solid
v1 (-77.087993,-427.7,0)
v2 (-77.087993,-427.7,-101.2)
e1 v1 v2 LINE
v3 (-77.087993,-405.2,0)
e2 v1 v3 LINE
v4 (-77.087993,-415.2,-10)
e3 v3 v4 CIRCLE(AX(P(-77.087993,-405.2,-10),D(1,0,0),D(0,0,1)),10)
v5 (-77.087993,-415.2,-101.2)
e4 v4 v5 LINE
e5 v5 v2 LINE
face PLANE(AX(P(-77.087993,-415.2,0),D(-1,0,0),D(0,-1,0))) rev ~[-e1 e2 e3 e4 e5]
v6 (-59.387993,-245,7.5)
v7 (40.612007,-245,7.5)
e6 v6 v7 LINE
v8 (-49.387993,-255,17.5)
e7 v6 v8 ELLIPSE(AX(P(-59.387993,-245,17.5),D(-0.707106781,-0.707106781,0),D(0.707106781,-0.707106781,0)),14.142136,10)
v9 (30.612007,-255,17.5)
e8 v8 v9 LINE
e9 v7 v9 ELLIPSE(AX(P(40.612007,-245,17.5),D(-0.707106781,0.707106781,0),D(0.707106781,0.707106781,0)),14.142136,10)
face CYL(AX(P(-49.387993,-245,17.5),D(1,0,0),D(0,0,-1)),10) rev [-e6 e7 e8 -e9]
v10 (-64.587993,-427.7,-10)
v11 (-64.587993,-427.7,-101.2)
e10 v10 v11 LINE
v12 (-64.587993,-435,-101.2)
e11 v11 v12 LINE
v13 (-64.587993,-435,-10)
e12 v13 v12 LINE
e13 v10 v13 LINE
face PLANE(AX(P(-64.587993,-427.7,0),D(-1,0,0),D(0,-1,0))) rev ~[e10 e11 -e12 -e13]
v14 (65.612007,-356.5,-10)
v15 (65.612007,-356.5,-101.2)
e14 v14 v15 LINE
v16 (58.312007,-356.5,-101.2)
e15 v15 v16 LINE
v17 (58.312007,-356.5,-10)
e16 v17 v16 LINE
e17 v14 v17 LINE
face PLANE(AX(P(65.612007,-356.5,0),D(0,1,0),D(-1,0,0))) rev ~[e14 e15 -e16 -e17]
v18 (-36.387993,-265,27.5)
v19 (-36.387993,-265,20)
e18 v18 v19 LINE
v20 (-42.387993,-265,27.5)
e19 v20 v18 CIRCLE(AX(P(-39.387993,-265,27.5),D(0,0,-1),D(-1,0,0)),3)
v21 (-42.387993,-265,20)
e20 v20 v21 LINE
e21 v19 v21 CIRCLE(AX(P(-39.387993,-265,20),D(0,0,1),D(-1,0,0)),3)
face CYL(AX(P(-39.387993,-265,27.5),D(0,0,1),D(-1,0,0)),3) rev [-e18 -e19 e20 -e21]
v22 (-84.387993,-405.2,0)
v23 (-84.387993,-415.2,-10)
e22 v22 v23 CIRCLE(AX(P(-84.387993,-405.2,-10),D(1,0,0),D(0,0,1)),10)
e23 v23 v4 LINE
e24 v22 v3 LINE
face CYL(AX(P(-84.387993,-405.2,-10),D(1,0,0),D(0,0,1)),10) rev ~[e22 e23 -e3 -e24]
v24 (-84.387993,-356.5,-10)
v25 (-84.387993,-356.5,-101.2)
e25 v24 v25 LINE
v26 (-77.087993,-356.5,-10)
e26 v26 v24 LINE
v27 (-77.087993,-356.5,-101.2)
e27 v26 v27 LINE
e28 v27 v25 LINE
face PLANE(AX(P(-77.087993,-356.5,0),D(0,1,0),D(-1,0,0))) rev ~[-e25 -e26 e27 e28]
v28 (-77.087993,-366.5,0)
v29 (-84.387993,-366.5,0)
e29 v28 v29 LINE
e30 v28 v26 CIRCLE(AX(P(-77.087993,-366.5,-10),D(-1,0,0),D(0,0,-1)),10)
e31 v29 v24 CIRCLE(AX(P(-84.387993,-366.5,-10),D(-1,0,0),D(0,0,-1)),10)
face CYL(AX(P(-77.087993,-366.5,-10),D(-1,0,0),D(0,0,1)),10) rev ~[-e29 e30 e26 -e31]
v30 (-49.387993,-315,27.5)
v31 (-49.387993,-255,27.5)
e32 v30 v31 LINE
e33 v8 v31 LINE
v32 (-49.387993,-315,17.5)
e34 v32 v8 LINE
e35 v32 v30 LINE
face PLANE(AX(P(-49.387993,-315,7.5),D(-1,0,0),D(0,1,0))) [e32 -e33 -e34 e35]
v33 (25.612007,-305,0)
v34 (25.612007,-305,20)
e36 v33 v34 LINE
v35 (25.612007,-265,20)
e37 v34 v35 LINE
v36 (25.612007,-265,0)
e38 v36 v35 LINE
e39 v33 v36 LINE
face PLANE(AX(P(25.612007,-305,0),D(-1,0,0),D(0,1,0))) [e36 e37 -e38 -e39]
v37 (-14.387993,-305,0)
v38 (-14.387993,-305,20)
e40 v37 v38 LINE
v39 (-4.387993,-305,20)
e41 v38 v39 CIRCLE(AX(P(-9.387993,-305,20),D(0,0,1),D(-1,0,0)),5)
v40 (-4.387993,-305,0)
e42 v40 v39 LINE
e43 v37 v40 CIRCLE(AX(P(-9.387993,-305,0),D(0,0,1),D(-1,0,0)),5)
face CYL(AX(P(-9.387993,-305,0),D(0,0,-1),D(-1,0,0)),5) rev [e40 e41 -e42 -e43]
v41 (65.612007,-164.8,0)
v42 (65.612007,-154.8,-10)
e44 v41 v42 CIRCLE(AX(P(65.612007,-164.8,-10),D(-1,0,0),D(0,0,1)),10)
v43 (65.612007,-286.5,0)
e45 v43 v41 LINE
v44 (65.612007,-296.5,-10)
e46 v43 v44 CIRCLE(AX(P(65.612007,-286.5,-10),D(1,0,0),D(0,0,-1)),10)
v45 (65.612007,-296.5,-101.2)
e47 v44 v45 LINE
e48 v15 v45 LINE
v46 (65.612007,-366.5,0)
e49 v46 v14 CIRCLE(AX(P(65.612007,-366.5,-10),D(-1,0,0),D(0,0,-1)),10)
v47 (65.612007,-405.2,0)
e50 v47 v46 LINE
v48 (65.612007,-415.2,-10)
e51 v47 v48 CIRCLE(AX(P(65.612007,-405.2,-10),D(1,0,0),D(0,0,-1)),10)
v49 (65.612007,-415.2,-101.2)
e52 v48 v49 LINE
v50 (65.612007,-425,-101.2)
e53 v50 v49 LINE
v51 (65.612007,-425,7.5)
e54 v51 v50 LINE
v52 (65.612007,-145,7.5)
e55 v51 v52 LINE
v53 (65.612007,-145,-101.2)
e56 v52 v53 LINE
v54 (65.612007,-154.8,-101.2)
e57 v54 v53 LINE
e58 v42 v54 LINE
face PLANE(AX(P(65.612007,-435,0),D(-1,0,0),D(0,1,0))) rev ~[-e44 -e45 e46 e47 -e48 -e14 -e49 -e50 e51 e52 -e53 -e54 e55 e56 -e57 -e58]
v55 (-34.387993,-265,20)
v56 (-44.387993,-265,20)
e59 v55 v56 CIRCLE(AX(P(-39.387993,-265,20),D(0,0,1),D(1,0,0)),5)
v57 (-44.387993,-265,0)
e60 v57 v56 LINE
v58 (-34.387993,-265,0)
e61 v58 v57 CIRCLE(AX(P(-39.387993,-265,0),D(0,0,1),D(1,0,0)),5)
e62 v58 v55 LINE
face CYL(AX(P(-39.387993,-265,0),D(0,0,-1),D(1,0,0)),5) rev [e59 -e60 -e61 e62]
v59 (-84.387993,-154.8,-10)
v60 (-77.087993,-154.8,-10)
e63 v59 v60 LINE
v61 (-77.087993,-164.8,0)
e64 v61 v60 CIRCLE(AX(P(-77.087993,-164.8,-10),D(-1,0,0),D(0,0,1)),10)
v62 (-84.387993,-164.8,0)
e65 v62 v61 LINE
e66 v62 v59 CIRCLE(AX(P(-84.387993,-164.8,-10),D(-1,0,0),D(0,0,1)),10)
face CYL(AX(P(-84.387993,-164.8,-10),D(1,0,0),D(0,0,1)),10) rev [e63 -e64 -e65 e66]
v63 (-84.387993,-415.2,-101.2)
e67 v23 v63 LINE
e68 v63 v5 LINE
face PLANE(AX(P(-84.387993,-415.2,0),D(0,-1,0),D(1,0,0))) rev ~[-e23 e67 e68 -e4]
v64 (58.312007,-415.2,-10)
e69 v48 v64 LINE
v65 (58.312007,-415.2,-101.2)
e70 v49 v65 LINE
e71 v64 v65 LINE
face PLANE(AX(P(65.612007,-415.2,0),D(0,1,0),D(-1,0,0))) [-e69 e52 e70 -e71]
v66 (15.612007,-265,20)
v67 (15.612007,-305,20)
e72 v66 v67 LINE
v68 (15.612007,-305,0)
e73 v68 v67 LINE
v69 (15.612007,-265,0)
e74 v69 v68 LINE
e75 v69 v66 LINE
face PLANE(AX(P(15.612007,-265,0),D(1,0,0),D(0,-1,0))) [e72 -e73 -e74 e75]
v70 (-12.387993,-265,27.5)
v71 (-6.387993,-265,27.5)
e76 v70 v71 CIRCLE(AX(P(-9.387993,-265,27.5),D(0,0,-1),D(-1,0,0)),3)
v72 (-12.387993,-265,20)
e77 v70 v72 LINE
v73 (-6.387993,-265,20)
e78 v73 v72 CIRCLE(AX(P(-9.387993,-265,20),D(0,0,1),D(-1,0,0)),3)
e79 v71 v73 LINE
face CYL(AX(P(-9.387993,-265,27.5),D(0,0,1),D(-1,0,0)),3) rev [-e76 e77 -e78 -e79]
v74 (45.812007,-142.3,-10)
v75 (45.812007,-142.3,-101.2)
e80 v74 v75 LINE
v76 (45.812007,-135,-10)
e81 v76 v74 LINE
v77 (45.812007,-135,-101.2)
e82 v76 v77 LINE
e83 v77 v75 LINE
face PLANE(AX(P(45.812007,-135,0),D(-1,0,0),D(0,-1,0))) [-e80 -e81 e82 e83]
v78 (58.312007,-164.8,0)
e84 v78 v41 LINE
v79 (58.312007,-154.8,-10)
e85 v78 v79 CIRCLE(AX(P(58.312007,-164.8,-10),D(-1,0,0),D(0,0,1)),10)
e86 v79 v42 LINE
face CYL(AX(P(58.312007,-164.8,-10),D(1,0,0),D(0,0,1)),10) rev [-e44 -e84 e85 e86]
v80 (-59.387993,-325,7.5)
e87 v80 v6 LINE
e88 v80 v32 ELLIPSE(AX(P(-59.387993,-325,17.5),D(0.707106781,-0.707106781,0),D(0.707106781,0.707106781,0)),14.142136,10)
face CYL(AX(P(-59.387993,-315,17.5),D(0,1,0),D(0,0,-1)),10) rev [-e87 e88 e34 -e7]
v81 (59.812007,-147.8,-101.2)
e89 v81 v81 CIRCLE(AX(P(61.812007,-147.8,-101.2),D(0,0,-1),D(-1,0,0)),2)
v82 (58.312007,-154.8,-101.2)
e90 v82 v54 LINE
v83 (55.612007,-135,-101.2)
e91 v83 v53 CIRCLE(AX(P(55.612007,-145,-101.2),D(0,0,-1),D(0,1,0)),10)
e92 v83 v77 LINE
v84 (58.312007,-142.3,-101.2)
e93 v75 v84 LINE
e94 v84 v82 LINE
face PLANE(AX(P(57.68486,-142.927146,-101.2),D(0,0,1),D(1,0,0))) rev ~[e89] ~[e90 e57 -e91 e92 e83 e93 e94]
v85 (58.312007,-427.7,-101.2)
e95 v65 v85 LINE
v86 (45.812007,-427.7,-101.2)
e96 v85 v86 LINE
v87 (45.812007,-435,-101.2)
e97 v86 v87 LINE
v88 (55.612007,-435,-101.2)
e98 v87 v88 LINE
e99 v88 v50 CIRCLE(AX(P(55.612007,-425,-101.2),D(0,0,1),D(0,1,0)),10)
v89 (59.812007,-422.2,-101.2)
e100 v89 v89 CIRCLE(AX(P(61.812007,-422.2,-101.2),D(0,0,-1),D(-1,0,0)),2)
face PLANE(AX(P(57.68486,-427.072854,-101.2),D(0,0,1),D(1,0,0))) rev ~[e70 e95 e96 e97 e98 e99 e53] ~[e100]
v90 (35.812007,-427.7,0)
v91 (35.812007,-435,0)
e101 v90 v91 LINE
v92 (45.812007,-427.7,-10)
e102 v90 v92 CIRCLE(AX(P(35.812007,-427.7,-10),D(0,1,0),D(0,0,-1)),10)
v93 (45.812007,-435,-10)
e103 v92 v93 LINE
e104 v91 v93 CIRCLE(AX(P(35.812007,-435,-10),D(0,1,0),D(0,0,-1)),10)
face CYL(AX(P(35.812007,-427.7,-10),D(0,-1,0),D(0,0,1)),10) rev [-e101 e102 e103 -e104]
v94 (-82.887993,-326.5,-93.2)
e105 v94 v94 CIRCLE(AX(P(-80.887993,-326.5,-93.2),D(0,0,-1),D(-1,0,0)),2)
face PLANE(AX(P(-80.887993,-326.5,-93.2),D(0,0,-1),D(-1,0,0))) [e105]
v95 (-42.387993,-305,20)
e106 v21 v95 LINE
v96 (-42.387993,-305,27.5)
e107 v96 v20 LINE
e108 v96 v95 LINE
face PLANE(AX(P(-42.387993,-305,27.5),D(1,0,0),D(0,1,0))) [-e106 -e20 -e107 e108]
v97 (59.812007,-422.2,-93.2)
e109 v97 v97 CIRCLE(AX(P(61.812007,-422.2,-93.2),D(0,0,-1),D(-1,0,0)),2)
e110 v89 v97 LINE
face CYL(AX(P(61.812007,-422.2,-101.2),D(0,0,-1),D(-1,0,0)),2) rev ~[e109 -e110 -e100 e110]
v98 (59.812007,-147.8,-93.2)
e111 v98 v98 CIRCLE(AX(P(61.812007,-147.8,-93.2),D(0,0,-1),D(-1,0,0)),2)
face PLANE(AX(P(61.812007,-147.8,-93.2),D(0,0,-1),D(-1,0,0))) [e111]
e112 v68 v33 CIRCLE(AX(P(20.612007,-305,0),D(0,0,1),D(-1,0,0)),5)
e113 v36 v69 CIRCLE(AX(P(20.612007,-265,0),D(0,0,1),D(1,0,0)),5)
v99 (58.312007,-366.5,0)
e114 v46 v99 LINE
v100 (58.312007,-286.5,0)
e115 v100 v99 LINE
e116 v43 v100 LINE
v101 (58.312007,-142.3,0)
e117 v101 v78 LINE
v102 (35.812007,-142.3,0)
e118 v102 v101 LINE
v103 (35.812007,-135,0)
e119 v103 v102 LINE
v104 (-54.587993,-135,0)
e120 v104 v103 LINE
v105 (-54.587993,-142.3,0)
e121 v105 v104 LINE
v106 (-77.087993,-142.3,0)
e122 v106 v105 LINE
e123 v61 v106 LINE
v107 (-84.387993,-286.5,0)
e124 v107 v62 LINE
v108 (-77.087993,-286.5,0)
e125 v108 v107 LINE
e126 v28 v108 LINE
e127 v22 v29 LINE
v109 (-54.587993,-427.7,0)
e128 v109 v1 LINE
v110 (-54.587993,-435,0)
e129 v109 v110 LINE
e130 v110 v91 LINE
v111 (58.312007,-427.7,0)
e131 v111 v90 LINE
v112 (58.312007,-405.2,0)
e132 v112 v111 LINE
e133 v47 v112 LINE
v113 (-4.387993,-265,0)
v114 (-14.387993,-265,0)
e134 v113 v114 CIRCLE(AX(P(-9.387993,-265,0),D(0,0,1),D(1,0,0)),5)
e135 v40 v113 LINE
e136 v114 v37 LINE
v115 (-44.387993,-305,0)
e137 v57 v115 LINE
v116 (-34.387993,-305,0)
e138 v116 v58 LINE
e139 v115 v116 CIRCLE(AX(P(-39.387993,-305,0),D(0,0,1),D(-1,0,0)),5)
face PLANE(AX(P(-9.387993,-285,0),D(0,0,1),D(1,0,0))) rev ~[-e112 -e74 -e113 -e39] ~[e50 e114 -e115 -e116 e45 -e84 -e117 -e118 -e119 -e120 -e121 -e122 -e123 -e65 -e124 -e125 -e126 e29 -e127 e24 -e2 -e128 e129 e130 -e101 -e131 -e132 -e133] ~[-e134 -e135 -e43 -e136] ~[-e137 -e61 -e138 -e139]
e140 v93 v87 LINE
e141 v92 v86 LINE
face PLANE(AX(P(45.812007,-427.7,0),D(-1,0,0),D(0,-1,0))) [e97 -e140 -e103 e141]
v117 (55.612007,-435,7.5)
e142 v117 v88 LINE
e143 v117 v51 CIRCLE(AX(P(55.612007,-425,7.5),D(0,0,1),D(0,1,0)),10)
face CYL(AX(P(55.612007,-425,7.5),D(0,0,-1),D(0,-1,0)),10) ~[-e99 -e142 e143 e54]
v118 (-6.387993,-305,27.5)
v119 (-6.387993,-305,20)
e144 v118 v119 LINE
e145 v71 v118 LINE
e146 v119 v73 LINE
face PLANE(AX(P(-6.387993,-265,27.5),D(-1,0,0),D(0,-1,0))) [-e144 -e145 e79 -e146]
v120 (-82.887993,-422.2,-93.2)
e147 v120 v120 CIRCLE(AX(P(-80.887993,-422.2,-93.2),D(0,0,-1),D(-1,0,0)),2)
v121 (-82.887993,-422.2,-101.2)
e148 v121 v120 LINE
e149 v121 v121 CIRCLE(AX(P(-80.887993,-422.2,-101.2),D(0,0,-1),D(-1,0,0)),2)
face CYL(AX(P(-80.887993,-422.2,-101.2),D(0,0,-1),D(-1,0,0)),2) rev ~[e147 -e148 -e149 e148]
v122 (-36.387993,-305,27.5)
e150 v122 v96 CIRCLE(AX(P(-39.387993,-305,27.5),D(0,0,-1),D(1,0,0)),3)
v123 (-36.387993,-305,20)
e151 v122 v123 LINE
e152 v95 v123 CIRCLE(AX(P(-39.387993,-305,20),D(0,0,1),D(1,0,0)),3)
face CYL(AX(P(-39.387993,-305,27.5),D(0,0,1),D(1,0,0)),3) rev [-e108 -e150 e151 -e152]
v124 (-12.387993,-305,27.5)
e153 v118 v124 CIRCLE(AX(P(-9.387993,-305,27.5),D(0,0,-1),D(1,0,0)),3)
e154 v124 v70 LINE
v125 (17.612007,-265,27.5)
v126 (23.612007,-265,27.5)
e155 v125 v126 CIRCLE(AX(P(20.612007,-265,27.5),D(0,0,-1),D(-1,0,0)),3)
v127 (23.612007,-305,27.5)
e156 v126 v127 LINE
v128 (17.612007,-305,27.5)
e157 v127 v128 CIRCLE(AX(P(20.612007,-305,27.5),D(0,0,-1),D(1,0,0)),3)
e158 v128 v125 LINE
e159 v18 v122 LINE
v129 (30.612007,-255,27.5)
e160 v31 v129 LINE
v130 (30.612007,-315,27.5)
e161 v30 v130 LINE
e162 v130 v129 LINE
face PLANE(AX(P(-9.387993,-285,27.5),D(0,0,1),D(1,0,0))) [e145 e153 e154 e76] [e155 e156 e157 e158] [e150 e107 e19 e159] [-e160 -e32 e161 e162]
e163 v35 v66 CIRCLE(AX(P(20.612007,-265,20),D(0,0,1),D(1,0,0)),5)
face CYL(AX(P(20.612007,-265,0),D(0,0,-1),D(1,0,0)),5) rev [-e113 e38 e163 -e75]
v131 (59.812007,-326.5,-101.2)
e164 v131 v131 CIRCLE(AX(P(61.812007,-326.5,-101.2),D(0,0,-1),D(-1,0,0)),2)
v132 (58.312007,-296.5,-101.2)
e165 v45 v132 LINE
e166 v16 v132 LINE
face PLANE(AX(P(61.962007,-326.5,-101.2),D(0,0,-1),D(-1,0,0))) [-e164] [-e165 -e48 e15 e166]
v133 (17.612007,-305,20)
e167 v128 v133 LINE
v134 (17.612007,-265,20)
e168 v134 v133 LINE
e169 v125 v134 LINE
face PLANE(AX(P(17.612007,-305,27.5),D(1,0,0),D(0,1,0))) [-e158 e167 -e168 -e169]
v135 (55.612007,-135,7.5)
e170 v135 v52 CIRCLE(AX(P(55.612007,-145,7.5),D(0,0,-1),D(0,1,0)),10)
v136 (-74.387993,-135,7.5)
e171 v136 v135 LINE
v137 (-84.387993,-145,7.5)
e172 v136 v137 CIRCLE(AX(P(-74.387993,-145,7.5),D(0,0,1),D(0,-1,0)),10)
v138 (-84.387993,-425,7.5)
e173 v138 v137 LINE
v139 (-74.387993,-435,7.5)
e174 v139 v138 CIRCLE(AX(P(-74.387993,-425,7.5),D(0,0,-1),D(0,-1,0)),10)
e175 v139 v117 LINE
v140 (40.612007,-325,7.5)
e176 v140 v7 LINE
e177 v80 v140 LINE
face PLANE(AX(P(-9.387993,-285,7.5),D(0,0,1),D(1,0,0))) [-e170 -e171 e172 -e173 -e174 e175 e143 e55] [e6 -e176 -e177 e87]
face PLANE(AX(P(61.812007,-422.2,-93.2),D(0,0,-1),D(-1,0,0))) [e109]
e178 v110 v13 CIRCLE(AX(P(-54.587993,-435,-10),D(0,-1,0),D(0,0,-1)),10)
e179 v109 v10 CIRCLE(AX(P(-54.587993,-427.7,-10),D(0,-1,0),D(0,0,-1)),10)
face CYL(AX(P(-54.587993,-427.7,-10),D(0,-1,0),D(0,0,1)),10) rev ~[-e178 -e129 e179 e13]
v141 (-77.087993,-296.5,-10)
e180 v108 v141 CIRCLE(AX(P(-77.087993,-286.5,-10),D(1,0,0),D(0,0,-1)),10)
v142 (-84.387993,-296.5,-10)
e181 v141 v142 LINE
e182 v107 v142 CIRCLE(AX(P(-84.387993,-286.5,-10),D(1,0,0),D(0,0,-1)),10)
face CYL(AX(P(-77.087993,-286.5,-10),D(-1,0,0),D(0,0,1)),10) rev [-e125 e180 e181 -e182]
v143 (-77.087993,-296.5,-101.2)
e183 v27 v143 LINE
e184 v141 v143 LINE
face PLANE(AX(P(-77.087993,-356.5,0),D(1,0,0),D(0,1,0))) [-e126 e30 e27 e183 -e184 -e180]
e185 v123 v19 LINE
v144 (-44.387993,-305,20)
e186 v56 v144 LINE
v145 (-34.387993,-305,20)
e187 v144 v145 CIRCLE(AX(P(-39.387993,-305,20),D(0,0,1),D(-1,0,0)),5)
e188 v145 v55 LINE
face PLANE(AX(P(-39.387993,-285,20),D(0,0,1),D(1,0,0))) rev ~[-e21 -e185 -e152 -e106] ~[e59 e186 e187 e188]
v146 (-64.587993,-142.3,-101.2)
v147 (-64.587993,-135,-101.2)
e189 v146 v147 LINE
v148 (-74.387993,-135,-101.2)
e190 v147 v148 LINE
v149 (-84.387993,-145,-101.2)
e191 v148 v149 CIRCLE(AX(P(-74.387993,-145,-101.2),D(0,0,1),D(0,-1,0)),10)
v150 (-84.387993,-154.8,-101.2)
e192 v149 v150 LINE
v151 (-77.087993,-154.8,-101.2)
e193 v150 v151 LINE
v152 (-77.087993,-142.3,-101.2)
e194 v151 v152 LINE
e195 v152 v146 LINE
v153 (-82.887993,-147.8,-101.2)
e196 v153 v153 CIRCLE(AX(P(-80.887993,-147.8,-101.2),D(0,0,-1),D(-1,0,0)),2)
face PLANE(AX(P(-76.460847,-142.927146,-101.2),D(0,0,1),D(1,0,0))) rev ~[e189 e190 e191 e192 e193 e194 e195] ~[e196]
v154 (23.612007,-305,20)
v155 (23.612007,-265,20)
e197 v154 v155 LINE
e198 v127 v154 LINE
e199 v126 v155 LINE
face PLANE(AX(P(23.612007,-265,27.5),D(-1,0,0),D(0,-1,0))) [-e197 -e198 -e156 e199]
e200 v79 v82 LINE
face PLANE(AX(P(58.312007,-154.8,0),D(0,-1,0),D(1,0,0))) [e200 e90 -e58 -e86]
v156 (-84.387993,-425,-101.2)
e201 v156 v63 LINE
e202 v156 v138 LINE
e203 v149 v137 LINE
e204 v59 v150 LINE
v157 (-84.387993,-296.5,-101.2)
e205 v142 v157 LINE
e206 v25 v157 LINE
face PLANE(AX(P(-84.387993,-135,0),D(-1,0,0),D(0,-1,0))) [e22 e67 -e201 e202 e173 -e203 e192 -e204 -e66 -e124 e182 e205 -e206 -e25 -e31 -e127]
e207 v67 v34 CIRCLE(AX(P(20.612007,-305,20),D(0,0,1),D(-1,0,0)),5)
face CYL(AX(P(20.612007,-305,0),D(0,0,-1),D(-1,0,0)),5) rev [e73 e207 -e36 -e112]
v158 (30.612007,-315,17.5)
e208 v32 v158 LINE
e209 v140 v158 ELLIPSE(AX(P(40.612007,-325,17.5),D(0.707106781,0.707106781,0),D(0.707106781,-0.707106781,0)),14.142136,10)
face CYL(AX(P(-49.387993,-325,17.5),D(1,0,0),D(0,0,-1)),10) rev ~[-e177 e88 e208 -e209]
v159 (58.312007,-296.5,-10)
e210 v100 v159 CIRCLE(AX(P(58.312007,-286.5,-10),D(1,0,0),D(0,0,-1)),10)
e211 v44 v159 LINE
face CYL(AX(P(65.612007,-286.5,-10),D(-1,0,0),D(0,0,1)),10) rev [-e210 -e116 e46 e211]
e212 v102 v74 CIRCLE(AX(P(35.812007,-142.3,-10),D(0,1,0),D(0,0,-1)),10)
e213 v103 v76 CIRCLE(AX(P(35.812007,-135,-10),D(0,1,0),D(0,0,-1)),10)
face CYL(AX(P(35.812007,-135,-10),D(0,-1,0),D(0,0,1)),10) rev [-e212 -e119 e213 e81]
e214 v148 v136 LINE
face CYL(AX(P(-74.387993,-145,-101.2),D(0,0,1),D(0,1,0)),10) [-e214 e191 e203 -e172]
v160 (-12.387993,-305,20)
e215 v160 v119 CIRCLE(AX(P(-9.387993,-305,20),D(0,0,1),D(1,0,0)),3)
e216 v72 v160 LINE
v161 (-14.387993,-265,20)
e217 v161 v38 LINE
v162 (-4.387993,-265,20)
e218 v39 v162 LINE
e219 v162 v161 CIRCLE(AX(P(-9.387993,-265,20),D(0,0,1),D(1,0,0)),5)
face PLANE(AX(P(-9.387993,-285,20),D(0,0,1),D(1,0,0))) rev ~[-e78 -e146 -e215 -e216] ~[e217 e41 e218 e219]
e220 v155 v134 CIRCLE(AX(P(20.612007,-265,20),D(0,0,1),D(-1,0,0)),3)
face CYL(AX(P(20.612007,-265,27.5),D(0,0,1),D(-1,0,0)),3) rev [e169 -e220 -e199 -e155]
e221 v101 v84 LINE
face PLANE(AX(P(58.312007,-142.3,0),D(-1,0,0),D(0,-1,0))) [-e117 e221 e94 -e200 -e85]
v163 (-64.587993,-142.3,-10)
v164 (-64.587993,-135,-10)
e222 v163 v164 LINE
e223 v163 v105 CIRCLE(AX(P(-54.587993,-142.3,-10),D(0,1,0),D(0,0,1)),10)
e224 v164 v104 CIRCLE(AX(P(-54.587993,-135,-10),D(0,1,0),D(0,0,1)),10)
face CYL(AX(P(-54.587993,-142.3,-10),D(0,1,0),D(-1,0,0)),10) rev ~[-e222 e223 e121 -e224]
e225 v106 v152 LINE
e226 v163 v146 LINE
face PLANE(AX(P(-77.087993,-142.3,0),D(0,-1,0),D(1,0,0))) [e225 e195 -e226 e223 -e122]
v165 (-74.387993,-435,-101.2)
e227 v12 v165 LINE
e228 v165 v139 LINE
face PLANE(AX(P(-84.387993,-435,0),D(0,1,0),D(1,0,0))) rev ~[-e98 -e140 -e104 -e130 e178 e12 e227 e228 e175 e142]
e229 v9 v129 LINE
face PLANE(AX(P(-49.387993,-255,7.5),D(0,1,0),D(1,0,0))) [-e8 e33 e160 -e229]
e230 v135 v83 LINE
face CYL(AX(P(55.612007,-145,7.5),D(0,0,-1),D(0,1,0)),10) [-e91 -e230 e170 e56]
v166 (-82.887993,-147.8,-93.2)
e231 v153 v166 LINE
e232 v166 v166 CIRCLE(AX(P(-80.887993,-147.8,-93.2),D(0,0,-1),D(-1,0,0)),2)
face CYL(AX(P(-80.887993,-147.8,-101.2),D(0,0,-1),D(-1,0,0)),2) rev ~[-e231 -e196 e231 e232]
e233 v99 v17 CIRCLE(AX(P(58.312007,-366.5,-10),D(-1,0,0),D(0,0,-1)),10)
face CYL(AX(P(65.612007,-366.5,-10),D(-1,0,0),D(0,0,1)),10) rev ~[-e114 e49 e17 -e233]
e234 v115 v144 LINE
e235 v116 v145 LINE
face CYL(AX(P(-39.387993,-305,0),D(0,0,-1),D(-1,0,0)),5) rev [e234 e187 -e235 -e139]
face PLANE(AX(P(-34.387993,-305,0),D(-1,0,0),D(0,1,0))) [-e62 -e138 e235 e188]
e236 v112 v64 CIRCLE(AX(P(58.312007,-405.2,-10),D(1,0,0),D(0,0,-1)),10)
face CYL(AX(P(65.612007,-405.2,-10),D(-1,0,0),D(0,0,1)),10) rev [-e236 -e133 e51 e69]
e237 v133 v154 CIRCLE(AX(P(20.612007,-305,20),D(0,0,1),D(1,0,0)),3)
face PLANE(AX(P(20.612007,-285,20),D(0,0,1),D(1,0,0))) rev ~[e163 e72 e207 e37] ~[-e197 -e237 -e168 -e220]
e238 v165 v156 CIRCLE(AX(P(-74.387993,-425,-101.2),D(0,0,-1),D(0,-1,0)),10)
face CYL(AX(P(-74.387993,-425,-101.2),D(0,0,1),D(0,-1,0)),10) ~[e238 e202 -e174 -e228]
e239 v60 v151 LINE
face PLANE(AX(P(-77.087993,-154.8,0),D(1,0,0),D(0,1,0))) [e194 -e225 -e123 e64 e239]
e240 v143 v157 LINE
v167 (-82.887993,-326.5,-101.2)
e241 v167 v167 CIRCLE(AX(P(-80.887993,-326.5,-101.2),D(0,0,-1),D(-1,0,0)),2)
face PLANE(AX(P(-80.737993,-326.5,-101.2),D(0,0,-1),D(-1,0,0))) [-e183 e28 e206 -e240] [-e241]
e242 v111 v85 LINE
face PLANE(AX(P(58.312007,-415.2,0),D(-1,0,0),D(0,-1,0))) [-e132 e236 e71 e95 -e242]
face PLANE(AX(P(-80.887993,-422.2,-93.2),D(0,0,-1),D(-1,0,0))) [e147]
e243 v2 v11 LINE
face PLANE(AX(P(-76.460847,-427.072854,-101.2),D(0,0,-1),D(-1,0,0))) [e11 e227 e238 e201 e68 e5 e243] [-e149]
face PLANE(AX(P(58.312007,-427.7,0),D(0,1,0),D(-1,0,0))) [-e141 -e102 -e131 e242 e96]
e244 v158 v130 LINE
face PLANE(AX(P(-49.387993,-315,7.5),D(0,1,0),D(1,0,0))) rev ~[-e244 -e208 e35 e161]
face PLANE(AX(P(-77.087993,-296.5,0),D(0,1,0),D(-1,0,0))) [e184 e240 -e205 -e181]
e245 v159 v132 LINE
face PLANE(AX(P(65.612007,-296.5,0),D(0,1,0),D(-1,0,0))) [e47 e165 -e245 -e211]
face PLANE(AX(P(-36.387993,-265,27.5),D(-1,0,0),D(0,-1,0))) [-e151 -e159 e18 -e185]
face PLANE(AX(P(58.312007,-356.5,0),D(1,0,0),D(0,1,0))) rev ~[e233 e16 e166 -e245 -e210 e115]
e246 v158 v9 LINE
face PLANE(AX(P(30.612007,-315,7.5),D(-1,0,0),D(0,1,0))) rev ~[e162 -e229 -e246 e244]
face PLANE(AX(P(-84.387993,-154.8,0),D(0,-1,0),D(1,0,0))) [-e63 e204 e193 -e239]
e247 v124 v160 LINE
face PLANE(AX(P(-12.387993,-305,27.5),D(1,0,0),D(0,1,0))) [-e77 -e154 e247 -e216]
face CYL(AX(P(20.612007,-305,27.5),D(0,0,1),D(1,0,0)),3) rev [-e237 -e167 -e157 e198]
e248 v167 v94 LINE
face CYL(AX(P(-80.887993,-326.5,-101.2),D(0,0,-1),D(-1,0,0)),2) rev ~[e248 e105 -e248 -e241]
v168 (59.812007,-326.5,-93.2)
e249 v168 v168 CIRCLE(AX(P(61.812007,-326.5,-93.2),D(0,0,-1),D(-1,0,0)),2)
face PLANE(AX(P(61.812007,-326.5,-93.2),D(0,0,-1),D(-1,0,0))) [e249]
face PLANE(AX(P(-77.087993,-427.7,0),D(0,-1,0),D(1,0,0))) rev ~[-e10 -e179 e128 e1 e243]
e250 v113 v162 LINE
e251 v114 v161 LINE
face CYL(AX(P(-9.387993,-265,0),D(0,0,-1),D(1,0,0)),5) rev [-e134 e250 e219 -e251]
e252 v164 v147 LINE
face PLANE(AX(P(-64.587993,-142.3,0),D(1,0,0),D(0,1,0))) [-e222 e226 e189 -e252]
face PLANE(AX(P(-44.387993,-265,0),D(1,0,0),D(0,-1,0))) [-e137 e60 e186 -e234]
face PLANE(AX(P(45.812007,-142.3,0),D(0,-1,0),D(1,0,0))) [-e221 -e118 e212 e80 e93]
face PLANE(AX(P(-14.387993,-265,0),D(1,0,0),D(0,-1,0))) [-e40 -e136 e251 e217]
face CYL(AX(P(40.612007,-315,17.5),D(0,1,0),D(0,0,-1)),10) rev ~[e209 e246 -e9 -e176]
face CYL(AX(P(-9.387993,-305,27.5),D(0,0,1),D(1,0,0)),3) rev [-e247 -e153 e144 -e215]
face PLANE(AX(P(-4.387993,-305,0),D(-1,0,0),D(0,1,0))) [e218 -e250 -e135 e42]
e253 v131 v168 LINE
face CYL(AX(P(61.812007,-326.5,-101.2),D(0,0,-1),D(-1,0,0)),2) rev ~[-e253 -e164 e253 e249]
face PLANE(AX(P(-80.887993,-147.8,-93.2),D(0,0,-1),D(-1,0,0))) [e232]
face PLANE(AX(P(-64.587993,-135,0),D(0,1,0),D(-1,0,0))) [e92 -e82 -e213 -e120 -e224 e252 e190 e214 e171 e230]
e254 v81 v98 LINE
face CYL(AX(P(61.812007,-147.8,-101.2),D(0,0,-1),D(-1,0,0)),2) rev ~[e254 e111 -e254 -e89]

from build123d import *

# Parameters (mm, degrees)
SKETCH2_W                 = 150
SKETCH2_H                 = 300
BOXPLATFORM_DEPTH         = 7.5
SKETCH3_W                 = 80
SKETCH3_H                 = 60
EXTRUSIONCONNECTION_DEPTH = 20
FILLET1_R                 = 10
MOUNTSLOTS_DEPTH          = 444.962367113
WASHERSLOTS_DEPTH         = 20
SKETCH7_W                 = 7.3
SKETCH7_H                 = 60
WALLS_DEPTH               = 101.2
FILLET2_R                 = 10
FILLET3_R                 = 10
SKETCH8_R                 = 2
M3X7MMHOLES_DEPTH         = 8


with BuildPart() as part:
    # Sketch2 → BoxPlatform (new body)
    with BuildSketch(Plane.XY):
        with Locations((-9.387993296, -285)):
            Rectangle(SKETCH2_W, SKETCH2_H)
    extrude(amount=BOXPLATFORM_DEPTH)

    # Sketch3 → ExtrusionConnection (add)
    with BuildSketch(Plane.XY.offset(7.5)):
        with Locations((-9.387993296, -285)):
            Rectangle(SKETCH3_W, SKETCH3_H)
    extrude(amount=EXTRUSIONCONNECTION_DEPTH)

    # Fillet1
    fillet1_edges = [part.edges().sort_by_distance(p)[0] for p in [
        (-9.387993296, -315, 7.5),
        (30.612006704, -285, 7.5),
        (-9.387993296, -255, 7.5),
        (-49.387993296, -285, 7.5),
    ]]
    fillet(fillet1_edges, radius=FILLET1_R)

    # Sketch5 → MountSlots (cut, through all)
    with BuildSketch(Plane.XY.offset(27.5)):
        with BuildLine():
            Line((17.612006704, -305), (17.612006704, -265))
            ThreePointArc((17.612006704, -265), (20.612006704, -262), (23.612006704, -265))
            Line((23.612006704, -265), (23.612006704, -305))
            ThreePointArc((23.612006704, -305), (20.612006704, -308), (17.612006704, -305))
        make_face()
        with BuildLine():
            Line((-42.387993296, -305), (-42.387993296, -265))
            ThreePointArc((-42.387993296, -265), (-39.387993296, -262), (-36.387993296, -265))
            Line((-36.387993296, -265), (-36.387993296, -305))
            ThreePointArc((-36.387993296, -305), (-39.387993296, -308), (-42.387993296, -305))
        make_face()
        with BuildLine():
            Line((-12.387993296, -305), (-12.387993296, -265))
            ThreePointArc((-12.387993296, -265), (-9.387993296, -262), (-6.387993296, -265))
            Line((-6.387993296, -265), (-6.387993296, -305))
            ThreePointArc((-6.387993296, -305), (-9.387993296, -308), (-12.387993296, -305))
        make_face()
    extrude(amount=-MOUNTSLOTS_DEPTH, mode=Mode.SUBTRACT)

    # Sketch6 → WasherSlots (cut)
    with BuildSketch(Plane(origin=(0, 0, 0), x_dir=(-1, 0, 0), z_dir=(0, 0, -1))):
        with BuildLine():
            Line((-15.612006704, -265), (-15.612006704, -305))
            ThreePointArc((-15.612006704, -305), (-20.612006704, -310), (-25.612006704, -305))
            Line((-25.612006704, -305), (-25.612006704, -265))
            ThreePointArc((-25.612006704, -265), (-20.612006704, -260), (-15.612006704, -265))
        make_face()
        with BuildLine():
            Line((14.387993296, -265), (14.387993296, -305))
            ThreePointArc((14.387993296, -305), (9.387993296, -310), (4.387993296, -305))
            Line((4.387993296, -305), (4.387993296, -265))
            ThreePointArc((4.387993296, -265), (9.387993296, -260), (14.387993296, -265))
        make_face()
        with BuildLine():
            Line((44.387993296, -265), (44.387993296, -305))
            ThreePointArc((44.387993296, -305), (39.387993296, -310), (34.387993296, -305))
            Line((34.387993296, -305), (34.387993296, -265))
            ThreePointArc((34.387993296, -265), (39.387993296, -260), (44.387993296, -265))
        make_face()
    extrude(amount=-WASHERSLOTS_DEPTH, mode=Mode.SUBTRACT)

    # Sketch7 → Walls (add)
    with BuildSketch(Plane(origin=(0, 0, 0), x_dir=(-1, 0, 0), z_dir=(0, 0, -1))):
        Polygon((64.587993296, -135), (84.387993296, -135), (84.387993296, -154.8), (77.087993296, -154.8), (77.087993296, -142.3), (64.587993296, -142.3), align=None)
        Polygon((84.387993296, -435), (84.387993296, -415.2), (77.087993296, -415.2), (77.087993296, -427.7), (64.587993296, -427.7), (64.587993296, -435), align=None)
        Polygon((-45.812006704, -142.3), (-58.312006704, -142.3), (-58.312006704, -154.8), (-65.612006704, -154.8), (-65.612006704, -135), (-45.812006704, -135), align=None)
        Polygon((-65.612006704, -435), (-65.612006704, -415.2), (-58.312006704, -415.2), (-58.312006704, -427.7), (-45.812006704, -427.7), (-45.812006704, -435), align=None)
        with Locations((-61.962006704, -326.5)):
            Rectangle(SKETCH7_W, SKETCH7_H)
        with Locations((80.737993296, -326.5)):
            Rectangle(SKETCH7_W, SKETCH7_H)
    extrude(amount=WALLS_DEPTH)

    # Fillet2
    fillet2_edges = [part.edges().sort_by_distance(p)[0] for p in [
        (65.612006704, -435, -46.85),
        (-84.387993296, -435, -46.85),
        (-84.387993296, -135, -46.85),
        (65.612006704, -135, -46.85),
    ]]
    fillet(fillet2_edges, radius=FILLET2_R)

    # Fillet3
    fillet3_edges = [part.edges().sort_by_distance(p)[0] for p in [
        (-64.587993296, -138.65, 0),
        (-80.737993296, -154.8, 0),
        (-80.737993296, -415.2, 0),
        (-64.587993296, -431.35, 0),
        (61.962006704, -154.8, 0),
        (45.812006704, -138.65, 0),
        (61.962006704, -415.2, 0),
        (45.812006704, -431.35, 0),
        (61.962006704, -356.5, 0),
        (61.962006704, -296.5, 0),
        (-80.737993296, -296.5, 0),
        (-80.737993296, -356.5, 0),
    ]]
    fillet(fillet3_edges, radius=FILLET3_R)

    # Sketch8 → M3x7mmHoles (cut)
    with BuildSketch(Plane(origin=(0, 0, -101.2), x_dir=(-1, 0, 0), z_dir=(0, 0, -1))):
        with Locations((80.887993296, -147.8)):
            Circle(SKETCH8_R)
        with Locations((-61.812006704, -147.8)):
            Circle(SKETCH8_R)
        with Locations((80.887993296, -326.5)):
            Circle(SKETCH8_R)
        with Locations((-61.812006704, -326.5)):
            Circle(SKETCH8_R)
        with Locations((80.887993296, -422.2)):
            Circle(SKETCH8_R)
        with Locations((-61.812006704, -422.2)):
            Circle(SKETCH8_R)
    extrude(amount=-M3X7MMHOLES_DEPTH, mode=Mode.SUBTRACT)


solid = part.part
